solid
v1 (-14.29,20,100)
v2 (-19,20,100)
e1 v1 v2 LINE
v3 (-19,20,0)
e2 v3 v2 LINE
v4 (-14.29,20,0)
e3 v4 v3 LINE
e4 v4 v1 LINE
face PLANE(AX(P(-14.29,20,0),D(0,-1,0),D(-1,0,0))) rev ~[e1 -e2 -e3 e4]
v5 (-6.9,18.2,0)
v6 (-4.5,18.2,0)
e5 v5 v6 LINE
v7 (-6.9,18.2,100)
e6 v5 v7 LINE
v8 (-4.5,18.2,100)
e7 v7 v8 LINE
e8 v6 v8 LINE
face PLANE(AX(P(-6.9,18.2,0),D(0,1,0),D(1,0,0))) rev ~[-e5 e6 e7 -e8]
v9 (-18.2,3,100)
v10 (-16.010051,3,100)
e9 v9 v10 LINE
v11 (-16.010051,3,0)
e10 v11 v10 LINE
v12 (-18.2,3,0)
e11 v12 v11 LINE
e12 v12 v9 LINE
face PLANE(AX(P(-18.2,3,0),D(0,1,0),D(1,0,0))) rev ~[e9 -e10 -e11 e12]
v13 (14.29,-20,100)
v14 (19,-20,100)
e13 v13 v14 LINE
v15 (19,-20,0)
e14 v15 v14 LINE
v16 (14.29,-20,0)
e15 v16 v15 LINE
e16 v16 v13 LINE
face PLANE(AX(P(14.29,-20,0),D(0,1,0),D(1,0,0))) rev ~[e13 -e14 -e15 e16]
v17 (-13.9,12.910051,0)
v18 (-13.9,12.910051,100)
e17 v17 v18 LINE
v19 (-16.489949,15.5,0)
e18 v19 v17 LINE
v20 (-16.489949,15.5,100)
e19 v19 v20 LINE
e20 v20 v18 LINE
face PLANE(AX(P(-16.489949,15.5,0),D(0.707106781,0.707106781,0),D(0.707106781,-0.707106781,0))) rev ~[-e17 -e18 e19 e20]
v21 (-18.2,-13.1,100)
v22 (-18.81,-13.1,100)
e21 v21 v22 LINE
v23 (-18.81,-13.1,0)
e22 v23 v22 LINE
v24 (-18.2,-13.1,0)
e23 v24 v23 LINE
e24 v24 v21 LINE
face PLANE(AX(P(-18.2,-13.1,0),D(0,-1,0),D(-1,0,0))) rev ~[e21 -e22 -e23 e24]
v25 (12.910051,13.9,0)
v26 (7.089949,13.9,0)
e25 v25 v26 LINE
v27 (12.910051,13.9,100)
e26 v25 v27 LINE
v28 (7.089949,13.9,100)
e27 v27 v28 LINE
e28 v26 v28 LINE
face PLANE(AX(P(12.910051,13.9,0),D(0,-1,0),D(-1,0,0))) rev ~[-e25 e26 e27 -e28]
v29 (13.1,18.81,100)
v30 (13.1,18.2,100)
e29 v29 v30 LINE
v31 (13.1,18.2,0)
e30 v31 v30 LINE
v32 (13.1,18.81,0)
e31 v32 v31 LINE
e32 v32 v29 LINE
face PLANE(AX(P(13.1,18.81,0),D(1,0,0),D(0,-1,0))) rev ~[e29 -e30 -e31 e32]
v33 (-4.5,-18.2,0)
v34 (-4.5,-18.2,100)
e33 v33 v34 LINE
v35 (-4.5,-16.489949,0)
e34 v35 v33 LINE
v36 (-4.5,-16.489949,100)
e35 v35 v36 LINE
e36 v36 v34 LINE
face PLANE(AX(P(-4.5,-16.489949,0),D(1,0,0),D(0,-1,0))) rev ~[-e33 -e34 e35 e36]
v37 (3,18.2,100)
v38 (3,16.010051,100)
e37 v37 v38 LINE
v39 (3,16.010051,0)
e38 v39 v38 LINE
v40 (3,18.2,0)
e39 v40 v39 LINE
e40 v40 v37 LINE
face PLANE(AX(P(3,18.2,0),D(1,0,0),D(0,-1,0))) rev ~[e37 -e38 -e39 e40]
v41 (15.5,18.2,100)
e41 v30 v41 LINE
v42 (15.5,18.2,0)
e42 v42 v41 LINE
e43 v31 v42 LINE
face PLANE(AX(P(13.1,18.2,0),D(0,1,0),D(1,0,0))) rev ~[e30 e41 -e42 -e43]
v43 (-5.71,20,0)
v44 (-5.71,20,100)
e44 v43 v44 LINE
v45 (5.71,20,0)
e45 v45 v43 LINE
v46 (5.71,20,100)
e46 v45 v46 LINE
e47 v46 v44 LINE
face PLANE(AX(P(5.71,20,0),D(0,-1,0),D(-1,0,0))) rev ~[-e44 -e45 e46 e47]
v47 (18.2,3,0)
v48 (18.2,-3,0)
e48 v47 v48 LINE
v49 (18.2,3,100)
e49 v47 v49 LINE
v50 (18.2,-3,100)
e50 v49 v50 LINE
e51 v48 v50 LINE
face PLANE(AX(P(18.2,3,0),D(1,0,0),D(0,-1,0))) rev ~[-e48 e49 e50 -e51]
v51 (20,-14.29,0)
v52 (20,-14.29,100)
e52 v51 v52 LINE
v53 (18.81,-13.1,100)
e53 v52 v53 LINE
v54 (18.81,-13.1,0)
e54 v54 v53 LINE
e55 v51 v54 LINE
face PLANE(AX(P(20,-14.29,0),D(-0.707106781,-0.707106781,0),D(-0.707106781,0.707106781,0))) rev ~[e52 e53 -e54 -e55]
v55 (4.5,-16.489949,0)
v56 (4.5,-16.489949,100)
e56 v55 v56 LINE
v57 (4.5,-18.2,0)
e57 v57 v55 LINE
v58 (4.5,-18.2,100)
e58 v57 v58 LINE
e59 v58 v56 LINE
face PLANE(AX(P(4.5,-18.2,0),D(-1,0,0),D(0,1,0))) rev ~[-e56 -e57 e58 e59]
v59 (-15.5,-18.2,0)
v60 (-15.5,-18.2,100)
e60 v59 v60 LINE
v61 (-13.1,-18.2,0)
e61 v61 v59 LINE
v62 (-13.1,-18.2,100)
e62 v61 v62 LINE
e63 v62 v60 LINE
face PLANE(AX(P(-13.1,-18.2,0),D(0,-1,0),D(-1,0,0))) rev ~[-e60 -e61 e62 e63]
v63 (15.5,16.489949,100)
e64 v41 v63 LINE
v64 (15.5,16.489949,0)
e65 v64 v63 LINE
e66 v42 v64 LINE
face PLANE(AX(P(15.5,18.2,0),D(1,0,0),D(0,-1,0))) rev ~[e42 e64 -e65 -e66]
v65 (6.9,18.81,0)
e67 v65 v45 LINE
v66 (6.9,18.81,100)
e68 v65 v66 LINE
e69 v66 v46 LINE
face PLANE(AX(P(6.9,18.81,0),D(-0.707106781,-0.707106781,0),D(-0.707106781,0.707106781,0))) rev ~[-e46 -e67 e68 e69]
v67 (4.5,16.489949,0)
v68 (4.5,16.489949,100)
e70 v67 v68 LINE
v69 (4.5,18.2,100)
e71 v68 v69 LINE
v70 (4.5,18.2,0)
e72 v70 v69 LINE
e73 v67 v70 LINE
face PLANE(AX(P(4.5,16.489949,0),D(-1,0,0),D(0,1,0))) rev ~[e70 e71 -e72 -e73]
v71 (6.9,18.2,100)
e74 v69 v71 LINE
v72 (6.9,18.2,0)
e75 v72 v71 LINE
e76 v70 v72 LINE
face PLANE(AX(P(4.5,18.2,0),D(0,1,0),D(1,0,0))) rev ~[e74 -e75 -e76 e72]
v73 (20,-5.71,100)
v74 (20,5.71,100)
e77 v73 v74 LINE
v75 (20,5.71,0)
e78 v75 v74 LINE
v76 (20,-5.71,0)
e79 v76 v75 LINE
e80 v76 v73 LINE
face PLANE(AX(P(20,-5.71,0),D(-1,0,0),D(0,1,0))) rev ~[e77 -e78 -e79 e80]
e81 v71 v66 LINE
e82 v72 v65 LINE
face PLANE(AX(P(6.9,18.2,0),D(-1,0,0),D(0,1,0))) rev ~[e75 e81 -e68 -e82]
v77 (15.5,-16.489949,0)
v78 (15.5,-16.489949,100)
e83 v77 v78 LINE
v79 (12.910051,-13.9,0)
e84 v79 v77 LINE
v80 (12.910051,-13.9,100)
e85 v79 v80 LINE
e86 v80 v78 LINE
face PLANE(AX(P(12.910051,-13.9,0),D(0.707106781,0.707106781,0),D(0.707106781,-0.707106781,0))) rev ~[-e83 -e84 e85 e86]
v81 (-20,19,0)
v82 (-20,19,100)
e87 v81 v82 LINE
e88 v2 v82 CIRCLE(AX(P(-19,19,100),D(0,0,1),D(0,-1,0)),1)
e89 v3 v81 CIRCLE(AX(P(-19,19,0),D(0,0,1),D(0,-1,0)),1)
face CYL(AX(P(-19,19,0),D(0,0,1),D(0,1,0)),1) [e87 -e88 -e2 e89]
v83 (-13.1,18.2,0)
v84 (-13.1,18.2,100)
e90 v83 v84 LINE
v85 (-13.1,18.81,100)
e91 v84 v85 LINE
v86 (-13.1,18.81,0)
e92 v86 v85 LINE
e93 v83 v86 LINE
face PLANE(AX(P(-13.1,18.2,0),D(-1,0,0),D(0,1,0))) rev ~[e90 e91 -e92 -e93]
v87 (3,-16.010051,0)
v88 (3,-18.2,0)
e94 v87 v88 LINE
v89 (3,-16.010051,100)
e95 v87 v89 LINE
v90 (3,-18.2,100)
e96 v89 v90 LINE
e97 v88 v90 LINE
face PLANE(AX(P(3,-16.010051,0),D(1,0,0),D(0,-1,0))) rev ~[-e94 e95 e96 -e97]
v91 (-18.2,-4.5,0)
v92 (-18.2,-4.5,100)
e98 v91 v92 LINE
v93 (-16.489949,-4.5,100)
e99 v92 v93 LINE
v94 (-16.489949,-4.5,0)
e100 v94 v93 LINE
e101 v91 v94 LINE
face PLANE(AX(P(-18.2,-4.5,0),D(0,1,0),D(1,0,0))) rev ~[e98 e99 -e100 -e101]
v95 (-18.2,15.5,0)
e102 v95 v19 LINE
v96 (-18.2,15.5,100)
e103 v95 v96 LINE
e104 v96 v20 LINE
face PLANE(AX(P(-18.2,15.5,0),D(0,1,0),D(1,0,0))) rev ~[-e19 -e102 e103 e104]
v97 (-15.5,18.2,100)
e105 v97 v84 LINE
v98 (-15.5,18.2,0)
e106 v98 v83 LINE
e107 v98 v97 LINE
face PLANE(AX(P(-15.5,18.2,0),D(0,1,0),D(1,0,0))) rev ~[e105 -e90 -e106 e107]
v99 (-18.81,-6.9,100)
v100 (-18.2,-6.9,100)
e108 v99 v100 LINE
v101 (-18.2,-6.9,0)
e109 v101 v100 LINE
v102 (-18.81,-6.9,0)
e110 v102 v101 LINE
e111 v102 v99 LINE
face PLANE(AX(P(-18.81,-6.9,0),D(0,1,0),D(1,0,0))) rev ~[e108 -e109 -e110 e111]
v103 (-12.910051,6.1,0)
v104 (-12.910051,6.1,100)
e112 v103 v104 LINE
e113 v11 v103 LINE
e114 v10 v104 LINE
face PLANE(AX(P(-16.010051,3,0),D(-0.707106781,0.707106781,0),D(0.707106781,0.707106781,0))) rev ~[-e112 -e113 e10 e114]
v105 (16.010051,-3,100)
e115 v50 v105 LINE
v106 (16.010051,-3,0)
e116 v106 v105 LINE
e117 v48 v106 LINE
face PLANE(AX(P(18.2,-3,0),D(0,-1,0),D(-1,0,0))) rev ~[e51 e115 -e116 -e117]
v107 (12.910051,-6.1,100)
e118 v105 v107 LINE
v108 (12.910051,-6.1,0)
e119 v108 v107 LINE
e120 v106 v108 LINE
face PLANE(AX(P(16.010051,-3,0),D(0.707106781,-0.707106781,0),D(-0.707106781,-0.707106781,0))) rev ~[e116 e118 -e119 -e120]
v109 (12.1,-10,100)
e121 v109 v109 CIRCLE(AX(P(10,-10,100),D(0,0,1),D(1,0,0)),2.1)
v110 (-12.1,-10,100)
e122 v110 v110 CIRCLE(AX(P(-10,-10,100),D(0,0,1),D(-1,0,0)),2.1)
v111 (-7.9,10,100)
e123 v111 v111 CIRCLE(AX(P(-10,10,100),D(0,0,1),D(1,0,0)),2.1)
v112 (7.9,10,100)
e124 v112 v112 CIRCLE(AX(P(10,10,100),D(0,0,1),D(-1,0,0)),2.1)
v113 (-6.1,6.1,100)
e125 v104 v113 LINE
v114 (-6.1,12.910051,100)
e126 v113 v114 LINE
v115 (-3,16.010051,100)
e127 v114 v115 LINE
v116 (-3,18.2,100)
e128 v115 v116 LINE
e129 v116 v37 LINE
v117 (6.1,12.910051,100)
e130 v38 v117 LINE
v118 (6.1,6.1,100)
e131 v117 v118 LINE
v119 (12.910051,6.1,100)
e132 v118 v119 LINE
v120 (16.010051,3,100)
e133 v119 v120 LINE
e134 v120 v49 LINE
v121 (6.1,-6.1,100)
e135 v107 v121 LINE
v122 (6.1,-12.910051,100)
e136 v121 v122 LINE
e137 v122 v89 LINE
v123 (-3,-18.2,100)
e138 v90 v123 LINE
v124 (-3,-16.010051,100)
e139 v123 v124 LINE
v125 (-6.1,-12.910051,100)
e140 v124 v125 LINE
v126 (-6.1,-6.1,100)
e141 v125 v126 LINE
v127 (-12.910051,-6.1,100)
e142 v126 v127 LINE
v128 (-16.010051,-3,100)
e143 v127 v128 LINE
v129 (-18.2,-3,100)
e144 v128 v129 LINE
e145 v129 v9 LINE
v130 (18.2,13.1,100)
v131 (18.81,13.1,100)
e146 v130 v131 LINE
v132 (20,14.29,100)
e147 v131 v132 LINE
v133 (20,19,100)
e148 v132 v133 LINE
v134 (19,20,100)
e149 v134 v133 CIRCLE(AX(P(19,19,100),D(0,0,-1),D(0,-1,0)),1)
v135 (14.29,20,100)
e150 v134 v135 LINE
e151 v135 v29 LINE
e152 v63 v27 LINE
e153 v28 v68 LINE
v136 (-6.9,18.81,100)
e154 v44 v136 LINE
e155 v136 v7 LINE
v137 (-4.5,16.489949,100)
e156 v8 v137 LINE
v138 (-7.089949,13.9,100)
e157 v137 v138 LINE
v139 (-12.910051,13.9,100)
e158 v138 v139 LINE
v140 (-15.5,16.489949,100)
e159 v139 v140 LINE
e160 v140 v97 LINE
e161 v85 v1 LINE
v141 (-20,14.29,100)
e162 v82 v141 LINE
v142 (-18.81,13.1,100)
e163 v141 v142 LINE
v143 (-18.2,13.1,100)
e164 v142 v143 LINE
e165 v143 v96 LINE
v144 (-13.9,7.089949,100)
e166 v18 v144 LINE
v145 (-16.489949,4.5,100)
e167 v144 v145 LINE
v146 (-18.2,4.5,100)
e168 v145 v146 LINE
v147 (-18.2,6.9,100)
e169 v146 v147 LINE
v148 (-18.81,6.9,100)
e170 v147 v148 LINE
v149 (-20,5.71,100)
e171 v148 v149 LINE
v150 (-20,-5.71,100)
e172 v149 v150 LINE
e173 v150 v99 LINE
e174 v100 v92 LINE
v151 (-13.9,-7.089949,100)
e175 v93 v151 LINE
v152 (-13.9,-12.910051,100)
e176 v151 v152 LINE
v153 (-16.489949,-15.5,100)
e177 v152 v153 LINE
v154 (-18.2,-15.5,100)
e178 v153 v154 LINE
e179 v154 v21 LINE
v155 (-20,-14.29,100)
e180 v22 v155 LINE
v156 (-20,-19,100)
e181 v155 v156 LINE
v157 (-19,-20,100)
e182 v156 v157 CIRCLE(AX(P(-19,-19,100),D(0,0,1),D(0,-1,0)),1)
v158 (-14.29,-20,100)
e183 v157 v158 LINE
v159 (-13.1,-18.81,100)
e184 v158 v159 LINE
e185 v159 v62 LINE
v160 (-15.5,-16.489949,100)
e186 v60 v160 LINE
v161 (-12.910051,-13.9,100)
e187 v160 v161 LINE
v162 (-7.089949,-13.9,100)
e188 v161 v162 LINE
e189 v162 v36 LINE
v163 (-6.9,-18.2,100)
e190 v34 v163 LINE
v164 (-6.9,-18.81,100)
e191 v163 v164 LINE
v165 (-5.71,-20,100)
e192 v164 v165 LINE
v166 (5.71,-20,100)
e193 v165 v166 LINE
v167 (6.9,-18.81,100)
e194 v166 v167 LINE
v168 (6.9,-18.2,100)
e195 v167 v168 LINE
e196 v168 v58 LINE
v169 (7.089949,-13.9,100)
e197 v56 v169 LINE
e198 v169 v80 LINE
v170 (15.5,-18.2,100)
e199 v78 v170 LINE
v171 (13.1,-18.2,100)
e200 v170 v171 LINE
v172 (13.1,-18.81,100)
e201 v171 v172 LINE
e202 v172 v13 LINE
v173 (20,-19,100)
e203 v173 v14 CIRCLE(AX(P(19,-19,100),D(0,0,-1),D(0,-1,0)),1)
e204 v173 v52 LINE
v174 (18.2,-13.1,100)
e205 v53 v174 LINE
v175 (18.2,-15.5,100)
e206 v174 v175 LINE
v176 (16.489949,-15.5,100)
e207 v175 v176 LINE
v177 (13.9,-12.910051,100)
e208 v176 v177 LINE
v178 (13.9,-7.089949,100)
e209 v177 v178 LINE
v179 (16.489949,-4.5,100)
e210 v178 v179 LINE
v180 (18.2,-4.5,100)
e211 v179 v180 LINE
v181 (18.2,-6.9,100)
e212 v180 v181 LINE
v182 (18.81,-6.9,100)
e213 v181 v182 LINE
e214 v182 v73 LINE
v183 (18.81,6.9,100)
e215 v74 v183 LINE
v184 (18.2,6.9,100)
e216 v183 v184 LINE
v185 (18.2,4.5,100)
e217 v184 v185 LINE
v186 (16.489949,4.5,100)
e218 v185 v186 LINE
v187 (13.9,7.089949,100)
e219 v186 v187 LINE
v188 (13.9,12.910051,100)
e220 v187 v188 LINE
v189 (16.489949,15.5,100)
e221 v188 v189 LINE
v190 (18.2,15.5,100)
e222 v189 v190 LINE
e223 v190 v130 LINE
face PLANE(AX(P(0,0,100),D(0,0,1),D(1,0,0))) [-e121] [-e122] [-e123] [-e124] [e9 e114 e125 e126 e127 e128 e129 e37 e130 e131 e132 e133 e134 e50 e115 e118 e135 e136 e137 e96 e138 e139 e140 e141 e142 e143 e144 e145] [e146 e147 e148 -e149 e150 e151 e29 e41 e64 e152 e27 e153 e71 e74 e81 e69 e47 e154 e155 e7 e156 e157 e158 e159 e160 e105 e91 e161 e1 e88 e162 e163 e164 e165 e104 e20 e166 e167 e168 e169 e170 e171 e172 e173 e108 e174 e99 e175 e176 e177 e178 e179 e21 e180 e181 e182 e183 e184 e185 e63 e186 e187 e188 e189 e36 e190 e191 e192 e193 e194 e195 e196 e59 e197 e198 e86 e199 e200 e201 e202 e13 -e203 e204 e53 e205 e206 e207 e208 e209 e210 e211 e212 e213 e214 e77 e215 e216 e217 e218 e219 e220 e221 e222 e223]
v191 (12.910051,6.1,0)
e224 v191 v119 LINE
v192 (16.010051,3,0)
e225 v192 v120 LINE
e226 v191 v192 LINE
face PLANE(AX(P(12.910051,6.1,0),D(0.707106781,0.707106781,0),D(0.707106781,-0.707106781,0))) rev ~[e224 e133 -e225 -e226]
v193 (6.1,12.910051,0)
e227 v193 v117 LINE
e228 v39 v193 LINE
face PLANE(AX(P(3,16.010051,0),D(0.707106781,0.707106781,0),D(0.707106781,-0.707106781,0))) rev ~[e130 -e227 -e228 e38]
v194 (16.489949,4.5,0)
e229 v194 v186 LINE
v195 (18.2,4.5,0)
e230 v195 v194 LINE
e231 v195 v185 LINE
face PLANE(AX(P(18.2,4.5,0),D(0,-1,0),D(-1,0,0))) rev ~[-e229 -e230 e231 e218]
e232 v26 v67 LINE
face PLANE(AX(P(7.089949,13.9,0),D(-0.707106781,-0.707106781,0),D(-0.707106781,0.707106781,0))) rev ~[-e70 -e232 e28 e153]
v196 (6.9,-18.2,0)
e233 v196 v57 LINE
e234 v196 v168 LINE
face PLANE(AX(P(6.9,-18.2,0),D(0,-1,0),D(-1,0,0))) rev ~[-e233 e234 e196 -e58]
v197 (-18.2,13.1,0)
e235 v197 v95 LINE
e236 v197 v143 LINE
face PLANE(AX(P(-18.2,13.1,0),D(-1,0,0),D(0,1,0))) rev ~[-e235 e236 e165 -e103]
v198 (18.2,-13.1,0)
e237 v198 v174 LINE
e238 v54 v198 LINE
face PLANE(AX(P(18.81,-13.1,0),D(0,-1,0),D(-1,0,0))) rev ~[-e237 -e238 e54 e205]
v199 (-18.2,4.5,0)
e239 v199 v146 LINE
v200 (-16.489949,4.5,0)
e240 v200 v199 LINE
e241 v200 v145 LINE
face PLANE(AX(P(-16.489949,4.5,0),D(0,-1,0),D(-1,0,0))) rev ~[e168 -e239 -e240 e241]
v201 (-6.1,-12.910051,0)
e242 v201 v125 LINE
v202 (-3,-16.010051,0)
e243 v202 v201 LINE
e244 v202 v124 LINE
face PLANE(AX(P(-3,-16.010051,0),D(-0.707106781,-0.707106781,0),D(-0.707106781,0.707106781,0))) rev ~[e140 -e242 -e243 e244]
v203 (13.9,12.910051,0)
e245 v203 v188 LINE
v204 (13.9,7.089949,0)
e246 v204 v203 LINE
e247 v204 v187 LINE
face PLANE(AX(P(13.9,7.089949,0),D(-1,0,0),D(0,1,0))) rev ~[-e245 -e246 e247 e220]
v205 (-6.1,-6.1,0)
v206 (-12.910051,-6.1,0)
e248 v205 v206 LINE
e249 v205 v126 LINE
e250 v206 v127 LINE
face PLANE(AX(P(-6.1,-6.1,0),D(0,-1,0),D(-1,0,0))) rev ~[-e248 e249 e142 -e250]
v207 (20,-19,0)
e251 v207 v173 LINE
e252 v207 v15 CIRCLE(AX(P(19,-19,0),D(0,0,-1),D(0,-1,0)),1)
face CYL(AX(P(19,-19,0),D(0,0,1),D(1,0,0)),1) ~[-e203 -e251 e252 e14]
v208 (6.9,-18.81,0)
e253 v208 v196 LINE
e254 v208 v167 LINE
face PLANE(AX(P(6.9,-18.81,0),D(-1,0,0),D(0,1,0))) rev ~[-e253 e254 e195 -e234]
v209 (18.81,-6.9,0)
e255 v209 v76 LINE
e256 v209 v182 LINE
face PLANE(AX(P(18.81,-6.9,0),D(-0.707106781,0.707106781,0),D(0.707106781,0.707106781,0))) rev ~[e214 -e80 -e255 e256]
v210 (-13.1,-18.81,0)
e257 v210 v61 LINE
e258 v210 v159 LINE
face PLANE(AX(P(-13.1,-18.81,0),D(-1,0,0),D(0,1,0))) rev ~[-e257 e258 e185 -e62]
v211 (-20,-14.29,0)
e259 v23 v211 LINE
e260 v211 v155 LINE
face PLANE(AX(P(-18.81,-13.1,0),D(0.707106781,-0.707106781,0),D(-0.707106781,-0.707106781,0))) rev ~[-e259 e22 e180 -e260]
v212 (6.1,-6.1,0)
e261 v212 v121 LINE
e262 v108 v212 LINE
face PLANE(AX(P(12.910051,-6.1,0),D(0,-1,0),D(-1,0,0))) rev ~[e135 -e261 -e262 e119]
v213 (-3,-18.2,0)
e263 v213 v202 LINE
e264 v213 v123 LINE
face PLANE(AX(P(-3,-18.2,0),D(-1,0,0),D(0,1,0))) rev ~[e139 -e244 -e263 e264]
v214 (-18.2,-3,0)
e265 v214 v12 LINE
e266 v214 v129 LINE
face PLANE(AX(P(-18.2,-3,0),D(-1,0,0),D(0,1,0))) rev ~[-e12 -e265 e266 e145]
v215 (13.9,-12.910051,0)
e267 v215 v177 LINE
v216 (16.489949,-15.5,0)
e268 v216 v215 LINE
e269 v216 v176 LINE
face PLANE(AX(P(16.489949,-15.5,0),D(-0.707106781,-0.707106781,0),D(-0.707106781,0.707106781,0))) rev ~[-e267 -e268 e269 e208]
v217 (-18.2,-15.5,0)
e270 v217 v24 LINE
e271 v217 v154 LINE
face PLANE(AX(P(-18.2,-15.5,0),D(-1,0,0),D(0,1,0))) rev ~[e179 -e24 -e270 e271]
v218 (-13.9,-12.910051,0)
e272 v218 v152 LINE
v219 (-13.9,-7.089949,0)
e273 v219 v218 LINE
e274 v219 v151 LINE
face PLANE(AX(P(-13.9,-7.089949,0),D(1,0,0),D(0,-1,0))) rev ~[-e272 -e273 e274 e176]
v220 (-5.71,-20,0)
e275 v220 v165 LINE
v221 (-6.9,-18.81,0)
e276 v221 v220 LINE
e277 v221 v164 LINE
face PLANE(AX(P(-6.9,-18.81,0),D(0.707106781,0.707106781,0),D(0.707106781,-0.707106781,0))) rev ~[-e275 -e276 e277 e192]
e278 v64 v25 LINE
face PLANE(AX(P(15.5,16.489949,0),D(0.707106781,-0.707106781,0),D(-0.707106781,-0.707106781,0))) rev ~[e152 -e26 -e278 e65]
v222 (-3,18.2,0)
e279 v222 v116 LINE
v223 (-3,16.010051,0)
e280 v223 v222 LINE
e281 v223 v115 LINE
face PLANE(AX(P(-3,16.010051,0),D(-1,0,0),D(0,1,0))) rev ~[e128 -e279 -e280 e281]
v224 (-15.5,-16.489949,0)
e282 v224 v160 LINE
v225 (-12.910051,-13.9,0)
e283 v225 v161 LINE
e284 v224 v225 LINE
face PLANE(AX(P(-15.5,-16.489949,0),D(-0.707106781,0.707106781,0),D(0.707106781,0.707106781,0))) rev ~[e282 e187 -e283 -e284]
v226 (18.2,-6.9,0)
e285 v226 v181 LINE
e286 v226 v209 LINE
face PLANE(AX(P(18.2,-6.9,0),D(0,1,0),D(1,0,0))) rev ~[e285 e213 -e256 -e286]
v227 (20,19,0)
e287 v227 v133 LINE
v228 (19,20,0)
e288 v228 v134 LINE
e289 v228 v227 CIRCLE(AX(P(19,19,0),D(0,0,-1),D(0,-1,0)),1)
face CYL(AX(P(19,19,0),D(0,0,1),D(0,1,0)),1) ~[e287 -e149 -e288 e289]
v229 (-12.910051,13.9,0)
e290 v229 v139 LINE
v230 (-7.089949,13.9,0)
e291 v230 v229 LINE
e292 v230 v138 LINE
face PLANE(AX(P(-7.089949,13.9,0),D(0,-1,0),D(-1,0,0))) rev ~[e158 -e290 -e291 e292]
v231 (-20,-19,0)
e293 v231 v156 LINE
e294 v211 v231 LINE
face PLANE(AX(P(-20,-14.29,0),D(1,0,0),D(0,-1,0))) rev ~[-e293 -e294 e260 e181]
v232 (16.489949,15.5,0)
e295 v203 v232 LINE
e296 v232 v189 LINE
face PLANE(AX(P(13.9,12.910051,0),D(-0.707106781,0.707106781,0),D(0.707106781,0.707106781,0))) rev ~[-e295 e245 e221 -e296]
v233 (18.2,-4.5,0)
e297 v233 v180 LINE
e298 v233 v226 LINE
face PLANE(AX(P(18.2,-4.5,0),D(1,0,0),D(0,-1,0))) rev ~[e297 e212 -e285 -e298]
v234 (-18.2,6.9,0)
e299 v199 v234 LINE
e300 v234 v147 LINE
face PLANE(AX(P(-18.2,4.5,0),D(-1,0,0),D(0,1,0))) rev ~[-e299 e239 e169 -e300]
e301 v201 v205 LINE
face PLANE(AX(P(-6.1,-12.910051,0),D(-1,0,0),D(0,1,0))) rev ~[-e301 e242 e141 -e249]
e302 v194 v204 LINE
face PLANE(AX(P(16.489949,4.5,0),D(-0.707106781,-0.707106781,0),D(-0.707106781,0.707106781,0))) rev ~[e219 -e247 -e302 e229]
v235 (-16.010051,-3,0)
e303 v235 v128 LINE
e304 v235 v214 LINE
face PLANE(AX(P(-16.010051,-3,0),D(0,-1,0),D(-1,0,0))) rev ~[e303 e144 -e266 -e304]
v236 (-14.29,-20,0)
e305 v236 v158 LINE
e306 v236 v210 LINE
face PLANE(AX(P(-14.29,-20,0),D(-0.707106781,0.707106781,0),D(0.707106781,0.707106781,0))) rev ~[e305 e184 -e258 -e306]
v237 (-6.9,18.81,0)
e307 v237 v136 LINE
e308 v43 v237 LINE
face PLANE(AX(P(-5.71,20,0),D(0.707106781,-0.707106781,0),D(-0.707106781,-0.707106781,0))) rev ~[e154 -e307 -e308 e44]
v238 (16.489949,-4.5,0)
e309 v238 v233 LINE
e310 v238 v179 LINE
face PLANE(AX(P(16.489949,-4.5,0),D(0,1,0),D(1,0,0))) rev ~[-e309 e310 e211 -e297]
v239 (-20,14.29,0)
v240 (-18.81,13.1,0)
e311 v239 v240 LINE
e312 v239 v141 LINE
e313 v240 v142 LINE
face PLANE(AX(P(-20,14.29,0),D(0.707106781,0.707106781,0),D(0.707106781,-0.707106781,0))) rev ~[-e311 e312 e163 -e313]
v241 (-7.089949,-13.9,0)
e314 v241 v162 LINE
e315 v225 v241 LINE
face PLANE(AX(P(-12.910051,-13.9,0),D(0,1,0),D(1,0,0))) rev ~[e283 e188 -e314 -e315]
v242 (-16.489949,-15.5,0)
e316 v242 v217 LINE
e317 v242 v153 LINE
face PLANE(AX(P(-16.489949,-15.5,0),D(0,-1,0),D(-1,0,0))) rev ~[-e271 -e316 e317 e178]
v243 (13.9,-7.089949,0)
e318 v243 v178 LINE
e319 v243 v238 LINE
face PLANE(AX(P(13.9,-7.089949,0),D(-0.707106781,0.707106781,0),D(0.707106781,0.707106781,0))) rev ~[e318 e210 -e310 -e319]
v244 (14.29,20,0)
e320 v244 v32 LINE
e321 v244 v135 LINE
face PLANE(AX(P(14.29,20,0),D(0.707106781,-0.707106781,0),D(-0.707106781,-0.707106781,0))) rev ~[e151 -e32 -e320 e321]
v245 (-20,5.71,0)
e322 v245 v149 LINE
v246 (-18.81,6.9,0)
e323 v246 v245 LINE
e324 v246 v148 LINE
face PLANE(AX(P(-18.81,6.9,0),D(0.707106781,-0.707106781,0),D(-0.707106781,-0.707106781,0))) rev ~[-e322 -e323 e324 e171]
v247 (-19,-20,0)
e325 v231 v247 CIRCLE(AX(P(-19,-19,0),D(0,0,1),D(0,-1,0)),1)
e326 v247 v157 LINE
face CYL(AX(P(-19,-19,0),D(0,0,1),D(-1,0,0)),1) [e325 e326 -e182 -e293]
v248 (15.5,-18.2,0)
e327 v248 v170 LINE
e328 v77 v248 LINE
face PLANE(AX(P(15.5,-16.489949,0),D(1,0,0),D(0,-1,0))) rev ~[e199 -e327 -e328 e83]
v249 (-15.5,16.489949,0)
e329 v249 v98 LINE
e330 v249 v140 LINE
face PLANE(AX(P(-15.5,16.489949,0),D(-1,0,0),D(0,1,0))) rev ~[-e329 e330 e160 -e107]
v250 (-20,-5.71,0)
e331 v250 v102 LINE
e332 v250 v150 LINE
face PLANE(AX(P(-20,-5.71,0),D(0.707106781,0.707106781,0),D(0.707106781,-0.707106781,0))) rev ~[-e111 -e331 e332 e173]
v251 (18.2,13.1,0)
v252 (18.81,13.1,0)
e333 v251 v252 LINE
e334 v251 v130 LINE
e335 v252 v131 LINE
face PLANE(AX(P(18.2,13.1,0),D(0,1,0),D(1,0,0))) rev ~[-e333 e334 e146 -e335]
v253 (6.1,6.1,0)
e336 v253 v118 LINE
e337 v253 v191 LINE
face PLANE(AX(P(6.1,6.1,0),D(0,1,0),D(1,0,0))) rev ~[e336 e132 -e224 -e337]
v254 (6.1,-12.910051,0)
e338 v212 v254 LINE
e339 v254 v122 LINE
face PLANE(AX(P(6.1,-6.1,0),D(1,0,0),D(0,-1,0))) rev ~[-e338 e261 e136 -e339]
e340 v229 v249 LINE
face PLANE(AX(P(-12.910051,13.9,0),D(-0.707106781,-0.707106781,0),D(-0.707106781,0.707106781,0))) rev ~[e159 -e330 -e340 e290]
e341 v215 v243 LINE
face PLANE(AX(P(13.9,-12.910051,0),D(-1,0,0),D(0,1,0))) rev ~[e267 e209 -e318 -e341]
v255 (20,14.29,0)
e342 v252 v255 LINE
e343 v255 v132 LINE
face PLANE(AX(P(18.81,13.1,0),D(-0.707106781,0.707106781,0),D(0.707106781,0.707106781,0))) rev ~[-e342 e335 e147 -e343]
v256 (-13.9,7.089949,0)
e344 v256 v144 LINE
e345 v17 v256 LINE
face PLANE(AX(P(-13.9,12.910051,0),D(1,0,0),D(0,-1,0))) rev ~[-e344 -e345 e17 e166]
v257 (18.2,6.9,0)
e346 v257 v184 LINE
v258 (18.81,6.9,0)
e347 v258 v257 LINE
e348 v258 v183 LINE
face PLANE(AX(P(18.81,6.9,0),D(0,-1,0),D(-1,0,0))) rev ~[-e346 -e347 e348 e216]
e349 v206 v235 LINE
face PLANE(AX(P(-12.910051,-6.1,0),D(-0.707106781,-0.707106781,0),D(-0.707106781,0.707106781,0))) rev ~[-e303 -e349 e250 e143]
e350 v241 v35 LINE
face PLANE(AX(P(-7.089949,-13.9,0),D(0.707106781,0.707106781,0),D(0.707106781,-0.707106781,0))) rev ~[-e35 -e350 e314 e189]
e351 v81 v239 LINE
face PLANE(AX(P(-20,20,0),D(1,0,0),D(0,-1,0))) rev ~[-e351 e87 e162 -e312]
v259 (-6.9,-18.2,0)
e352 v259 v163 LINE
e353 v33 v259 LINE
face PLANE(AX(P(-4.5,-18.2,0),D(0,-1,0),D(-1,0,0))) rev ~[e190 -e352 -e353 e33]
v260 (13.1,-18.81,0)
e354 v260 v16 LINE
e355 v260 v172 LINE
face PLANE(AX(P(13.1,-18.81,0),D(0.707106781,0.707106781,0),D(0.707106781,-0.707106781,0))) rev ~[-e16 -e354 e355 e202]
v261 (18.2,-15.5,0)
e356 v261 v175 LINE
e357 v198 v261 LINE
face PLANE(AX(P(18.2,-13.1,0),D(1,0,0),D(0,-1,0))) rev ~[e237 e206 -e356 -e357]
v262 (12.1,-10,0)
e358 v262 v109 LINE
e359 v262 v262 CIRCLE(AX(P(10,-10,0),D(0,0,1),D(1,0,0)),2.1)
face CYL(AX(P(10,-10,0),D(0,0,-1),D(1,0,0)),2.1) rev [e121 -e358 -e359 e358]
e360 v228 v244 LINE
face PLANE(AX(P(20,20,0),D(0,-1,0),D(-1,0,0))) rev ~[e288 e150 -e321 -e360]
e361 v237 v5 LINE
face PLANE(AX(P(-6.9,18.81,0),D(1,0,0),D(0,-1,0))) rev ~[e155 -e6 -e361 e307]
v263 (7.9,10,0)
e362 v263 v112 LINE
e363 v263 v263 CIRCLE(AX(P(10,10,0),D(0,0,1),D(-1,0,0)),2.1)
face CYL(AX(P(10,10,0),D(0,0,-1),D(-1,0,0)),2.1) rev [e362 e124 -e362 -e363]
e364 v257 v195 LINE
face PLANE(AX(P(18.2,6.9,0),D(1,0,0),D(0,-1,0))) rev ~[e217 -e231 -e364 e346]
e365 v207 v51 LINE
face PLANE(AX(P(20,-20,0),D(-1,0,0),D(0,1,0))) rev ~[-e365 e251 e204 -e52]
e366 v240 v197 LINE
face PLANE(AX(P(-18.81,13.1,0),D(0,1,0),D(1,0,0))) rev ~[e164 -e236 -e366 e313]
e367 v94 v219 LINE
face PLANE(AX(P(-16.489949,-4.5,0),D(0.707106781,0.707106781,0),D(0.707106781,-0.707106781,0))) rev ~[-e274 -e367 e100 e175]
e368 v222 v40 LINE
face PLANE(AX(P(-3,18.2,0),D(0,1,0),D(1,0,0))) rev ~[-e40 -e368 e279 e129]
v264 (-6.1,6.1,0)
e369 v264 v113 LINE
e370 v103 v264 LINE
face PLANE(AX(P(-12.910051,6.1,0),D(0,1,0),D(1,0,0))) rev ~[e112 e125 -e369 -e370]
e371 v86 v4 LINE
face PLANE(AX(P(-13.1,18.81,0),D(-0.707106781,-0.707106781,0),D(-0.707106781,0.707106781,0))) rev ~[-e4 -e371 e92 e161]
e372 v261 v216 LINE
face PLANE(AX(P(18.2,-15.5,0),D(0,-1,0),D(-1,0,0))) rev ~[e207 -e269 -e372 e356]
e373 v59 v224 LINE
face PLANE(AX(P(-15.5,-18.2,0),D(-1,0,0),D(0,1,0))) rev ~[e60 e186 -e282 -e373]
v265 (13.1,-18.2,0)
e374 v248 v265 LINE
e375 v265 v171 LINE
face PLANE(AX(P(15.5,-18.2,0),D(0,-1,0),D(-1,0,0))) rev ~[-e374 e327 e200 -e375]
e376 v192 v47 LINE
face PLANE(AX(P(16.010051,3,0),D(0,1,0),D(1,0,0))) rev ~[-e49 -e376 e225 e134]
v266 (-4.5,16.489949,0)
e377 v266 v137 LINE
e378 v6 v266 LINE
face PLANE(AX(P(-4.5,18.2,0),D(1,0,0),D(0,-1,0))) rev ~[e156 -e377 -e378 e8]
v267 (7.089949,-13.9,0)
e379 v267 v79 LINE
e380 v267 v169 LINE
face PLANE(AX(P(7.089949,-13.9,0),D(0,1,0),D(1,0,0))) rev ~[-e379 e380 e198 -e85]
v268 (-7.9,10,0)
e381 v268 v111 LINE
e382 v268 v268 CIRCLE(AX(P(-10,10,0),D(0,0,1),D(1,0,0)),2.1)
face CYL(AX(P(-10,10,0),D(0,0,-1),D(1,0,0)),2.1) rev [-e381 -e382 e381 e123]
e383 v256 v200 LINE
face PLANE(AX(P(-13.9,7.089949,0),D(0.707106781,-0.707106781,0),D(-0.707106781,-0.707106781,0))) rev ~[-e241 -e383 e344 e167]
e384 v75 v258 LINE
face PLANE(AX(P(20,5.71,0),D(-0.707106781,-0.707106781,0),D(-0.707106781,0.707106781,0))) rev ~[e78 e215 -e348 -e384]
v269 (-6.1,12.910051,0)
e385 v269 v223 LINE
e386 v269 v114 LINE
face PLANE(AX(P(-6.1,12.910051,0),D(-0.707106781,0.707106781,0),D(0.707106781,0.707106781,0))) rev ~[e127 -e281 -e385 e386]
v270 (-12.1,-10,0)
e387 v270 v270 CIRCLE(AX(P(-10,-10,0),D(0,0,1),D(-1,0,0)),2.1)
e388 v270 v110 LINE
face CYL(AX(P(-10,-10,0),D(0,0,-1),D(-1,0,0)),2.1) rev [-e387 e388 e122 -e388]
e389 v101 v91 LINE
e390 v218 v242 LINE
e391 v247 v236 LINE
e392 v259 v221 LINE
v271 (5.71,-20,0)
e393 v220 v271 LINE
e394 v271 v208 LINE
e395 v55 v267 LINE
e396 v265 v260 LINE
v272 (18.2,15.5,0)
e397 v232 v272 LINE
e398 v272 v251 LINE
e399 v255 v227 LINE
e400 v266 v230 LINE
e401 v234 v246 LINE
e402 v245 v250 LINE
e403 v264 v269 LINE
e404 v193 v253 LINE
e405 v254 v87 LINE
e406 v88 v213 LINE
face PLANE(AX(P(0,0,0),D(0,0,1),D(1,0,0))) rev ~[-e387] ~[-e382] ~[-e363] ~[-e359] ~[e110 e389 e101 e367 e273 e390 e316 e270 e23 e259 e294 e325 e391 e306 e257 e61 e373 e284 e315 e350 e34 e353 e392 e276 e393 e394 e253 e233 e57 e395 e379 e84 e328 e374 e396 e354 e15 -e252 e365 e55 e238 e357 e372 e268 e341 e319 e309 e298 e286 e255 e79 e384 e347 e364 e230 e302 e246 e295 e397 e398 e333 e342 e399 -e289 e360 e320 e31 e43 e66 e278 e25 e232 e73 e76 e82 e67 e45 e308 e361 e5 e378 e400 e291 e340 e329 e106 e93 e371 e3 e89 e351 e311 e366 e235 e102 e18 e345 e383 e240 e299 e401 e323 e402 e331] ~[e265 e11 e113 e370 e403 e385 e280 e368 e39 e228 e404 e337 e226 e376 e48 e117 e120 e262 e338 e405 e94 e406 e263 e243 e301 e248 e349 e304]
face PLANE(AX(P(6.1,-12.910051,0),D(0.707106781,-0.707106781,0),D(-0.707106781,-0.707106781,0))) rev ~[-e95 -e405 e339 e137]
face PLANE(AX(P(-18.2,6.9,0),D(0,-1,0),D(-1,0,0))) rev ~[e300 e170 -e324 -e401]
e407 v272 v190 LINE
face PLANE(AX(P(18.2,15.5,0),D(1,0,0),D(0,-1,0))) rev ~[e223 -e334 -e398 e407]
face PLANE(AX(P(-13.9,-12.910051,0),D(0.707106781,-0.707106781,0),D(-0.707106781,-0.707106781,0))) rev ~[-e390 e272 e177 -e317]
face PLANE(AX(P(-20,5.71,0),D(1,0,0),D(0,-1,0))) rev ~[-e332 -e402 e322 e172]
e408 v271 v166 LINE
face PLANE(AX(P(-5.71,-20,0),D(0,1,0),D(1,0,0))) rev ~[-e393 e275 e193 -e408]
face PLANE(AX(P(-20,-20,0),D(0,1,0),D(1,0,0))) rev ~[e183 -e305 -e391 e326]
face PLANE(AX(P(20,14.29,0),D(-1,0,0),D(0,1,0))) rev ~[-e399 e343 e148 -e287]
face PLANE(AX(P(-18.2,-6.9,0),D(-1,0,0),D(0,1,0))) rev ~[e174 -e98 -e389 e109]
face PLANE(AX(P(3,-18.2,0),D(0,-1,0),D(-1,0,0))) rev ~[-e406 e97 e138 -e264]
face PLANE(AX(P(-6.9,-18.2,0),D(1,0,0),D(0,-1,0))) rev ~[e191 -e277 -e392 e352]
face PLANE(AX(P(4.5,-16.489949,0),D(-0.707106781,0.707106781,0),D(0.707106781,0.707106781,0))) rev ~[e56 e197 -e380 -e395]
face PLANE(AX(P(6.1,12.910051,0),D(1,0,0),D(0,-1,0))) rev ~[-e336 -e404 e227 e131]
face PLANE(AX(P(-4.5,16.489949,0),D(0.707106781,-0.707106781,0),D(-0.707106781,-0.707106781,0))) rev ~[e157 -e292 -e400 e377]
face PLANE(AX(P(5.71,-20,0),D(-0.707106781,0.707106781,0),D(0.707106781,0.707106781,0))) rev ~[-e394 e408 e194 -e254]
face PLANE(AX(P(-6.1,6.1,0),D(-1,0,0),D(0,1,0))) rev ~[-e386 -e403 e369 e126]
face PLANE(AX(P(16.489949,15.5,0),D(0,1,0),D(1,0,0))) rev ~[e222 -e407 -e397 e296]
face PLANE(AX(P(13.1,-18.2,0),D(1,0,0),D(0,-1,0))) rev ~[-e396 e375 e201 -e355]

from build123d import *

# Parameters (mm, degrees)
SKETCH_1_R      = 2.1
EXTRUDE_1_DEPTH = 100
VERRUNDUNG1_R   = 1


with BuildPart() as part:
    # 草图1 → 凸台-拉伸1 (new body)
    with BuildSketch(Plane.XY):
        Polygon((5.71, 20), (-5.71, 20), (-6.9, 18.81), (-6.9, 18.2), (-4.5, 18.2), (-4.5, 16.489949494), (-7.089949494, 13.9), (-12.910050506, 13.9), (-15.5, 16.489949494), (-15.5, 18.2), (-13.1, 18.2), (-13.1, 18.81), (-14.29, 20), (-20, 20), (-20, 14.29), (-18.81, 13.1), (-18.2, 13.1), (-18.2, 15.5), (-16.489949494, 15.5), (-13.9, 12.910050506), (-13.9, 7.089949494), (-16.489949494, 4.5), (-18.2, 4.5), (-18.2, 6.9), (-18.81, 6.9), (-20, 5.71), (-20, -5.71), (-18.81, -6.9), (-18.2, -6.9), (-18.2, -4.5), (-16.489949494, -4.5), (-13.9, -7.089949494), (-13.9, -12.910050506), (-16.489949494, -15.5), (-18.2, -15.5), (-18.2, -13.1), (-18.81, -13.1), (-20, -14.29), (-20, -20), (-14.29, -20), (-13.1, -18.81), (-13.1, -18.2), (-15.5, -18.2), (-15.5, -16.489949494), (-12.910050506, -13.9), (-7.089949494, -13.9), (-4.5, -16.489949494), (-4.5, -18.2), (-6.9, -18.2), (-6.9, -18.81), (-5.71, -20), (5.71, -20), (6.9, -18.81), (6.9, -18.2), (4.5, -18.2), (4.5, -16.489949494), (7.089949494, -13.9), (12.910050506, -13.9), (15.5, -16.489949494), (15.5, -18.2), (13.1, -18.2), (13.1, -18.81), (14.29, -20), (20, -20), (20, -14.29), (18.81, -13.1), (18.2, -13.1), (18.2, -15.5), (16.489949494, -15.5), (13.9, -12.910050506), (13.9, -7.089949494), (16.489949494, -4.5), (18.2, -4.5), (18.2, -6.9), (18.81, -6.9), (20, -5.71), (20, 5.71), (18.81, 6.9), (18.2, 6.9), (18.2, 4.5), (16.489949494, 4.5), (13.9, 7.089949494), (13.9, 12.910050506), (16.489949494, 15.5), (18.2, 15.5), (18.2, 13.1), (18.81, 13.1), (20, 14.29), (20, 20), (14.29, 20), (13.1, 18.81), (13.1, 18.2), (15.5, 18.2), (15.5, 16.489949494), (12.910050506, 13.9), (7.089949494, 13.9), (4.5, 16.489949494), (4.5, 18.2), (6.9, 18.2), (6.9, 18.81), align=None)
        with Locations((-10, 10)):
            Circle(SKETCH_1_R, mode=Mode.SUBTRACT)
        with Locations(Location((-10, -10, 0), (0, 0, 180))):
            Circle(SKETCH_1_R, mode=Mode.SUBTRACT)
        with Locations((10, -10)):
            Circle(SKETCH_1_R, mode=Mode.SUBTRACT)
        with Locations(Location((10, 10, 0), (0, 0, 180))):
            Circle(SKETCH_1_R, mode=Mode.SUBTRACT)
        Polygon((-6.1, 6.1), (-6.1, 12.910050506), (-3, 16.010050506), (-3, 18.2), (3, 18.2), (3, 16.010050506), (6.1, 12.910050506), (6.1, 6.1), (12.910050506, 6.1), (16.010050506, 3), (18.2, 3), (18.2, -3), (16.010050506, -3), (12.910050506, -6.1), (6.1, -6.1), (6.1, -12.910050506), (3, -16.010050506), (3, -18.2), (-3, -18.2), (-3, -16.010050506), (-6.1, -12.910050506), (-6.1, -6.1), (-12.910050506, -6.1), (-16.010050506, -3), (-18.2, -3), (-18.2, 3), (-16.010050506, 3), (-12.910050506, 6.1), align=None, mode=Mode.SUBTRACT)
    extrude(amount=EXTRUDE_1_DEPTH)

    # Verrundung1
    verrundung1_edges = [part.edges().sort_by_distance(p)[0] for p in [
        (20, 20, 50),
        (20, -20, 50),
        (-20, -20, 50),
        (-20, 20, 50),
    ]]
    fillet(verrundung1_edges, radius=VERRUNDUNG1_R)


solid = part.part
